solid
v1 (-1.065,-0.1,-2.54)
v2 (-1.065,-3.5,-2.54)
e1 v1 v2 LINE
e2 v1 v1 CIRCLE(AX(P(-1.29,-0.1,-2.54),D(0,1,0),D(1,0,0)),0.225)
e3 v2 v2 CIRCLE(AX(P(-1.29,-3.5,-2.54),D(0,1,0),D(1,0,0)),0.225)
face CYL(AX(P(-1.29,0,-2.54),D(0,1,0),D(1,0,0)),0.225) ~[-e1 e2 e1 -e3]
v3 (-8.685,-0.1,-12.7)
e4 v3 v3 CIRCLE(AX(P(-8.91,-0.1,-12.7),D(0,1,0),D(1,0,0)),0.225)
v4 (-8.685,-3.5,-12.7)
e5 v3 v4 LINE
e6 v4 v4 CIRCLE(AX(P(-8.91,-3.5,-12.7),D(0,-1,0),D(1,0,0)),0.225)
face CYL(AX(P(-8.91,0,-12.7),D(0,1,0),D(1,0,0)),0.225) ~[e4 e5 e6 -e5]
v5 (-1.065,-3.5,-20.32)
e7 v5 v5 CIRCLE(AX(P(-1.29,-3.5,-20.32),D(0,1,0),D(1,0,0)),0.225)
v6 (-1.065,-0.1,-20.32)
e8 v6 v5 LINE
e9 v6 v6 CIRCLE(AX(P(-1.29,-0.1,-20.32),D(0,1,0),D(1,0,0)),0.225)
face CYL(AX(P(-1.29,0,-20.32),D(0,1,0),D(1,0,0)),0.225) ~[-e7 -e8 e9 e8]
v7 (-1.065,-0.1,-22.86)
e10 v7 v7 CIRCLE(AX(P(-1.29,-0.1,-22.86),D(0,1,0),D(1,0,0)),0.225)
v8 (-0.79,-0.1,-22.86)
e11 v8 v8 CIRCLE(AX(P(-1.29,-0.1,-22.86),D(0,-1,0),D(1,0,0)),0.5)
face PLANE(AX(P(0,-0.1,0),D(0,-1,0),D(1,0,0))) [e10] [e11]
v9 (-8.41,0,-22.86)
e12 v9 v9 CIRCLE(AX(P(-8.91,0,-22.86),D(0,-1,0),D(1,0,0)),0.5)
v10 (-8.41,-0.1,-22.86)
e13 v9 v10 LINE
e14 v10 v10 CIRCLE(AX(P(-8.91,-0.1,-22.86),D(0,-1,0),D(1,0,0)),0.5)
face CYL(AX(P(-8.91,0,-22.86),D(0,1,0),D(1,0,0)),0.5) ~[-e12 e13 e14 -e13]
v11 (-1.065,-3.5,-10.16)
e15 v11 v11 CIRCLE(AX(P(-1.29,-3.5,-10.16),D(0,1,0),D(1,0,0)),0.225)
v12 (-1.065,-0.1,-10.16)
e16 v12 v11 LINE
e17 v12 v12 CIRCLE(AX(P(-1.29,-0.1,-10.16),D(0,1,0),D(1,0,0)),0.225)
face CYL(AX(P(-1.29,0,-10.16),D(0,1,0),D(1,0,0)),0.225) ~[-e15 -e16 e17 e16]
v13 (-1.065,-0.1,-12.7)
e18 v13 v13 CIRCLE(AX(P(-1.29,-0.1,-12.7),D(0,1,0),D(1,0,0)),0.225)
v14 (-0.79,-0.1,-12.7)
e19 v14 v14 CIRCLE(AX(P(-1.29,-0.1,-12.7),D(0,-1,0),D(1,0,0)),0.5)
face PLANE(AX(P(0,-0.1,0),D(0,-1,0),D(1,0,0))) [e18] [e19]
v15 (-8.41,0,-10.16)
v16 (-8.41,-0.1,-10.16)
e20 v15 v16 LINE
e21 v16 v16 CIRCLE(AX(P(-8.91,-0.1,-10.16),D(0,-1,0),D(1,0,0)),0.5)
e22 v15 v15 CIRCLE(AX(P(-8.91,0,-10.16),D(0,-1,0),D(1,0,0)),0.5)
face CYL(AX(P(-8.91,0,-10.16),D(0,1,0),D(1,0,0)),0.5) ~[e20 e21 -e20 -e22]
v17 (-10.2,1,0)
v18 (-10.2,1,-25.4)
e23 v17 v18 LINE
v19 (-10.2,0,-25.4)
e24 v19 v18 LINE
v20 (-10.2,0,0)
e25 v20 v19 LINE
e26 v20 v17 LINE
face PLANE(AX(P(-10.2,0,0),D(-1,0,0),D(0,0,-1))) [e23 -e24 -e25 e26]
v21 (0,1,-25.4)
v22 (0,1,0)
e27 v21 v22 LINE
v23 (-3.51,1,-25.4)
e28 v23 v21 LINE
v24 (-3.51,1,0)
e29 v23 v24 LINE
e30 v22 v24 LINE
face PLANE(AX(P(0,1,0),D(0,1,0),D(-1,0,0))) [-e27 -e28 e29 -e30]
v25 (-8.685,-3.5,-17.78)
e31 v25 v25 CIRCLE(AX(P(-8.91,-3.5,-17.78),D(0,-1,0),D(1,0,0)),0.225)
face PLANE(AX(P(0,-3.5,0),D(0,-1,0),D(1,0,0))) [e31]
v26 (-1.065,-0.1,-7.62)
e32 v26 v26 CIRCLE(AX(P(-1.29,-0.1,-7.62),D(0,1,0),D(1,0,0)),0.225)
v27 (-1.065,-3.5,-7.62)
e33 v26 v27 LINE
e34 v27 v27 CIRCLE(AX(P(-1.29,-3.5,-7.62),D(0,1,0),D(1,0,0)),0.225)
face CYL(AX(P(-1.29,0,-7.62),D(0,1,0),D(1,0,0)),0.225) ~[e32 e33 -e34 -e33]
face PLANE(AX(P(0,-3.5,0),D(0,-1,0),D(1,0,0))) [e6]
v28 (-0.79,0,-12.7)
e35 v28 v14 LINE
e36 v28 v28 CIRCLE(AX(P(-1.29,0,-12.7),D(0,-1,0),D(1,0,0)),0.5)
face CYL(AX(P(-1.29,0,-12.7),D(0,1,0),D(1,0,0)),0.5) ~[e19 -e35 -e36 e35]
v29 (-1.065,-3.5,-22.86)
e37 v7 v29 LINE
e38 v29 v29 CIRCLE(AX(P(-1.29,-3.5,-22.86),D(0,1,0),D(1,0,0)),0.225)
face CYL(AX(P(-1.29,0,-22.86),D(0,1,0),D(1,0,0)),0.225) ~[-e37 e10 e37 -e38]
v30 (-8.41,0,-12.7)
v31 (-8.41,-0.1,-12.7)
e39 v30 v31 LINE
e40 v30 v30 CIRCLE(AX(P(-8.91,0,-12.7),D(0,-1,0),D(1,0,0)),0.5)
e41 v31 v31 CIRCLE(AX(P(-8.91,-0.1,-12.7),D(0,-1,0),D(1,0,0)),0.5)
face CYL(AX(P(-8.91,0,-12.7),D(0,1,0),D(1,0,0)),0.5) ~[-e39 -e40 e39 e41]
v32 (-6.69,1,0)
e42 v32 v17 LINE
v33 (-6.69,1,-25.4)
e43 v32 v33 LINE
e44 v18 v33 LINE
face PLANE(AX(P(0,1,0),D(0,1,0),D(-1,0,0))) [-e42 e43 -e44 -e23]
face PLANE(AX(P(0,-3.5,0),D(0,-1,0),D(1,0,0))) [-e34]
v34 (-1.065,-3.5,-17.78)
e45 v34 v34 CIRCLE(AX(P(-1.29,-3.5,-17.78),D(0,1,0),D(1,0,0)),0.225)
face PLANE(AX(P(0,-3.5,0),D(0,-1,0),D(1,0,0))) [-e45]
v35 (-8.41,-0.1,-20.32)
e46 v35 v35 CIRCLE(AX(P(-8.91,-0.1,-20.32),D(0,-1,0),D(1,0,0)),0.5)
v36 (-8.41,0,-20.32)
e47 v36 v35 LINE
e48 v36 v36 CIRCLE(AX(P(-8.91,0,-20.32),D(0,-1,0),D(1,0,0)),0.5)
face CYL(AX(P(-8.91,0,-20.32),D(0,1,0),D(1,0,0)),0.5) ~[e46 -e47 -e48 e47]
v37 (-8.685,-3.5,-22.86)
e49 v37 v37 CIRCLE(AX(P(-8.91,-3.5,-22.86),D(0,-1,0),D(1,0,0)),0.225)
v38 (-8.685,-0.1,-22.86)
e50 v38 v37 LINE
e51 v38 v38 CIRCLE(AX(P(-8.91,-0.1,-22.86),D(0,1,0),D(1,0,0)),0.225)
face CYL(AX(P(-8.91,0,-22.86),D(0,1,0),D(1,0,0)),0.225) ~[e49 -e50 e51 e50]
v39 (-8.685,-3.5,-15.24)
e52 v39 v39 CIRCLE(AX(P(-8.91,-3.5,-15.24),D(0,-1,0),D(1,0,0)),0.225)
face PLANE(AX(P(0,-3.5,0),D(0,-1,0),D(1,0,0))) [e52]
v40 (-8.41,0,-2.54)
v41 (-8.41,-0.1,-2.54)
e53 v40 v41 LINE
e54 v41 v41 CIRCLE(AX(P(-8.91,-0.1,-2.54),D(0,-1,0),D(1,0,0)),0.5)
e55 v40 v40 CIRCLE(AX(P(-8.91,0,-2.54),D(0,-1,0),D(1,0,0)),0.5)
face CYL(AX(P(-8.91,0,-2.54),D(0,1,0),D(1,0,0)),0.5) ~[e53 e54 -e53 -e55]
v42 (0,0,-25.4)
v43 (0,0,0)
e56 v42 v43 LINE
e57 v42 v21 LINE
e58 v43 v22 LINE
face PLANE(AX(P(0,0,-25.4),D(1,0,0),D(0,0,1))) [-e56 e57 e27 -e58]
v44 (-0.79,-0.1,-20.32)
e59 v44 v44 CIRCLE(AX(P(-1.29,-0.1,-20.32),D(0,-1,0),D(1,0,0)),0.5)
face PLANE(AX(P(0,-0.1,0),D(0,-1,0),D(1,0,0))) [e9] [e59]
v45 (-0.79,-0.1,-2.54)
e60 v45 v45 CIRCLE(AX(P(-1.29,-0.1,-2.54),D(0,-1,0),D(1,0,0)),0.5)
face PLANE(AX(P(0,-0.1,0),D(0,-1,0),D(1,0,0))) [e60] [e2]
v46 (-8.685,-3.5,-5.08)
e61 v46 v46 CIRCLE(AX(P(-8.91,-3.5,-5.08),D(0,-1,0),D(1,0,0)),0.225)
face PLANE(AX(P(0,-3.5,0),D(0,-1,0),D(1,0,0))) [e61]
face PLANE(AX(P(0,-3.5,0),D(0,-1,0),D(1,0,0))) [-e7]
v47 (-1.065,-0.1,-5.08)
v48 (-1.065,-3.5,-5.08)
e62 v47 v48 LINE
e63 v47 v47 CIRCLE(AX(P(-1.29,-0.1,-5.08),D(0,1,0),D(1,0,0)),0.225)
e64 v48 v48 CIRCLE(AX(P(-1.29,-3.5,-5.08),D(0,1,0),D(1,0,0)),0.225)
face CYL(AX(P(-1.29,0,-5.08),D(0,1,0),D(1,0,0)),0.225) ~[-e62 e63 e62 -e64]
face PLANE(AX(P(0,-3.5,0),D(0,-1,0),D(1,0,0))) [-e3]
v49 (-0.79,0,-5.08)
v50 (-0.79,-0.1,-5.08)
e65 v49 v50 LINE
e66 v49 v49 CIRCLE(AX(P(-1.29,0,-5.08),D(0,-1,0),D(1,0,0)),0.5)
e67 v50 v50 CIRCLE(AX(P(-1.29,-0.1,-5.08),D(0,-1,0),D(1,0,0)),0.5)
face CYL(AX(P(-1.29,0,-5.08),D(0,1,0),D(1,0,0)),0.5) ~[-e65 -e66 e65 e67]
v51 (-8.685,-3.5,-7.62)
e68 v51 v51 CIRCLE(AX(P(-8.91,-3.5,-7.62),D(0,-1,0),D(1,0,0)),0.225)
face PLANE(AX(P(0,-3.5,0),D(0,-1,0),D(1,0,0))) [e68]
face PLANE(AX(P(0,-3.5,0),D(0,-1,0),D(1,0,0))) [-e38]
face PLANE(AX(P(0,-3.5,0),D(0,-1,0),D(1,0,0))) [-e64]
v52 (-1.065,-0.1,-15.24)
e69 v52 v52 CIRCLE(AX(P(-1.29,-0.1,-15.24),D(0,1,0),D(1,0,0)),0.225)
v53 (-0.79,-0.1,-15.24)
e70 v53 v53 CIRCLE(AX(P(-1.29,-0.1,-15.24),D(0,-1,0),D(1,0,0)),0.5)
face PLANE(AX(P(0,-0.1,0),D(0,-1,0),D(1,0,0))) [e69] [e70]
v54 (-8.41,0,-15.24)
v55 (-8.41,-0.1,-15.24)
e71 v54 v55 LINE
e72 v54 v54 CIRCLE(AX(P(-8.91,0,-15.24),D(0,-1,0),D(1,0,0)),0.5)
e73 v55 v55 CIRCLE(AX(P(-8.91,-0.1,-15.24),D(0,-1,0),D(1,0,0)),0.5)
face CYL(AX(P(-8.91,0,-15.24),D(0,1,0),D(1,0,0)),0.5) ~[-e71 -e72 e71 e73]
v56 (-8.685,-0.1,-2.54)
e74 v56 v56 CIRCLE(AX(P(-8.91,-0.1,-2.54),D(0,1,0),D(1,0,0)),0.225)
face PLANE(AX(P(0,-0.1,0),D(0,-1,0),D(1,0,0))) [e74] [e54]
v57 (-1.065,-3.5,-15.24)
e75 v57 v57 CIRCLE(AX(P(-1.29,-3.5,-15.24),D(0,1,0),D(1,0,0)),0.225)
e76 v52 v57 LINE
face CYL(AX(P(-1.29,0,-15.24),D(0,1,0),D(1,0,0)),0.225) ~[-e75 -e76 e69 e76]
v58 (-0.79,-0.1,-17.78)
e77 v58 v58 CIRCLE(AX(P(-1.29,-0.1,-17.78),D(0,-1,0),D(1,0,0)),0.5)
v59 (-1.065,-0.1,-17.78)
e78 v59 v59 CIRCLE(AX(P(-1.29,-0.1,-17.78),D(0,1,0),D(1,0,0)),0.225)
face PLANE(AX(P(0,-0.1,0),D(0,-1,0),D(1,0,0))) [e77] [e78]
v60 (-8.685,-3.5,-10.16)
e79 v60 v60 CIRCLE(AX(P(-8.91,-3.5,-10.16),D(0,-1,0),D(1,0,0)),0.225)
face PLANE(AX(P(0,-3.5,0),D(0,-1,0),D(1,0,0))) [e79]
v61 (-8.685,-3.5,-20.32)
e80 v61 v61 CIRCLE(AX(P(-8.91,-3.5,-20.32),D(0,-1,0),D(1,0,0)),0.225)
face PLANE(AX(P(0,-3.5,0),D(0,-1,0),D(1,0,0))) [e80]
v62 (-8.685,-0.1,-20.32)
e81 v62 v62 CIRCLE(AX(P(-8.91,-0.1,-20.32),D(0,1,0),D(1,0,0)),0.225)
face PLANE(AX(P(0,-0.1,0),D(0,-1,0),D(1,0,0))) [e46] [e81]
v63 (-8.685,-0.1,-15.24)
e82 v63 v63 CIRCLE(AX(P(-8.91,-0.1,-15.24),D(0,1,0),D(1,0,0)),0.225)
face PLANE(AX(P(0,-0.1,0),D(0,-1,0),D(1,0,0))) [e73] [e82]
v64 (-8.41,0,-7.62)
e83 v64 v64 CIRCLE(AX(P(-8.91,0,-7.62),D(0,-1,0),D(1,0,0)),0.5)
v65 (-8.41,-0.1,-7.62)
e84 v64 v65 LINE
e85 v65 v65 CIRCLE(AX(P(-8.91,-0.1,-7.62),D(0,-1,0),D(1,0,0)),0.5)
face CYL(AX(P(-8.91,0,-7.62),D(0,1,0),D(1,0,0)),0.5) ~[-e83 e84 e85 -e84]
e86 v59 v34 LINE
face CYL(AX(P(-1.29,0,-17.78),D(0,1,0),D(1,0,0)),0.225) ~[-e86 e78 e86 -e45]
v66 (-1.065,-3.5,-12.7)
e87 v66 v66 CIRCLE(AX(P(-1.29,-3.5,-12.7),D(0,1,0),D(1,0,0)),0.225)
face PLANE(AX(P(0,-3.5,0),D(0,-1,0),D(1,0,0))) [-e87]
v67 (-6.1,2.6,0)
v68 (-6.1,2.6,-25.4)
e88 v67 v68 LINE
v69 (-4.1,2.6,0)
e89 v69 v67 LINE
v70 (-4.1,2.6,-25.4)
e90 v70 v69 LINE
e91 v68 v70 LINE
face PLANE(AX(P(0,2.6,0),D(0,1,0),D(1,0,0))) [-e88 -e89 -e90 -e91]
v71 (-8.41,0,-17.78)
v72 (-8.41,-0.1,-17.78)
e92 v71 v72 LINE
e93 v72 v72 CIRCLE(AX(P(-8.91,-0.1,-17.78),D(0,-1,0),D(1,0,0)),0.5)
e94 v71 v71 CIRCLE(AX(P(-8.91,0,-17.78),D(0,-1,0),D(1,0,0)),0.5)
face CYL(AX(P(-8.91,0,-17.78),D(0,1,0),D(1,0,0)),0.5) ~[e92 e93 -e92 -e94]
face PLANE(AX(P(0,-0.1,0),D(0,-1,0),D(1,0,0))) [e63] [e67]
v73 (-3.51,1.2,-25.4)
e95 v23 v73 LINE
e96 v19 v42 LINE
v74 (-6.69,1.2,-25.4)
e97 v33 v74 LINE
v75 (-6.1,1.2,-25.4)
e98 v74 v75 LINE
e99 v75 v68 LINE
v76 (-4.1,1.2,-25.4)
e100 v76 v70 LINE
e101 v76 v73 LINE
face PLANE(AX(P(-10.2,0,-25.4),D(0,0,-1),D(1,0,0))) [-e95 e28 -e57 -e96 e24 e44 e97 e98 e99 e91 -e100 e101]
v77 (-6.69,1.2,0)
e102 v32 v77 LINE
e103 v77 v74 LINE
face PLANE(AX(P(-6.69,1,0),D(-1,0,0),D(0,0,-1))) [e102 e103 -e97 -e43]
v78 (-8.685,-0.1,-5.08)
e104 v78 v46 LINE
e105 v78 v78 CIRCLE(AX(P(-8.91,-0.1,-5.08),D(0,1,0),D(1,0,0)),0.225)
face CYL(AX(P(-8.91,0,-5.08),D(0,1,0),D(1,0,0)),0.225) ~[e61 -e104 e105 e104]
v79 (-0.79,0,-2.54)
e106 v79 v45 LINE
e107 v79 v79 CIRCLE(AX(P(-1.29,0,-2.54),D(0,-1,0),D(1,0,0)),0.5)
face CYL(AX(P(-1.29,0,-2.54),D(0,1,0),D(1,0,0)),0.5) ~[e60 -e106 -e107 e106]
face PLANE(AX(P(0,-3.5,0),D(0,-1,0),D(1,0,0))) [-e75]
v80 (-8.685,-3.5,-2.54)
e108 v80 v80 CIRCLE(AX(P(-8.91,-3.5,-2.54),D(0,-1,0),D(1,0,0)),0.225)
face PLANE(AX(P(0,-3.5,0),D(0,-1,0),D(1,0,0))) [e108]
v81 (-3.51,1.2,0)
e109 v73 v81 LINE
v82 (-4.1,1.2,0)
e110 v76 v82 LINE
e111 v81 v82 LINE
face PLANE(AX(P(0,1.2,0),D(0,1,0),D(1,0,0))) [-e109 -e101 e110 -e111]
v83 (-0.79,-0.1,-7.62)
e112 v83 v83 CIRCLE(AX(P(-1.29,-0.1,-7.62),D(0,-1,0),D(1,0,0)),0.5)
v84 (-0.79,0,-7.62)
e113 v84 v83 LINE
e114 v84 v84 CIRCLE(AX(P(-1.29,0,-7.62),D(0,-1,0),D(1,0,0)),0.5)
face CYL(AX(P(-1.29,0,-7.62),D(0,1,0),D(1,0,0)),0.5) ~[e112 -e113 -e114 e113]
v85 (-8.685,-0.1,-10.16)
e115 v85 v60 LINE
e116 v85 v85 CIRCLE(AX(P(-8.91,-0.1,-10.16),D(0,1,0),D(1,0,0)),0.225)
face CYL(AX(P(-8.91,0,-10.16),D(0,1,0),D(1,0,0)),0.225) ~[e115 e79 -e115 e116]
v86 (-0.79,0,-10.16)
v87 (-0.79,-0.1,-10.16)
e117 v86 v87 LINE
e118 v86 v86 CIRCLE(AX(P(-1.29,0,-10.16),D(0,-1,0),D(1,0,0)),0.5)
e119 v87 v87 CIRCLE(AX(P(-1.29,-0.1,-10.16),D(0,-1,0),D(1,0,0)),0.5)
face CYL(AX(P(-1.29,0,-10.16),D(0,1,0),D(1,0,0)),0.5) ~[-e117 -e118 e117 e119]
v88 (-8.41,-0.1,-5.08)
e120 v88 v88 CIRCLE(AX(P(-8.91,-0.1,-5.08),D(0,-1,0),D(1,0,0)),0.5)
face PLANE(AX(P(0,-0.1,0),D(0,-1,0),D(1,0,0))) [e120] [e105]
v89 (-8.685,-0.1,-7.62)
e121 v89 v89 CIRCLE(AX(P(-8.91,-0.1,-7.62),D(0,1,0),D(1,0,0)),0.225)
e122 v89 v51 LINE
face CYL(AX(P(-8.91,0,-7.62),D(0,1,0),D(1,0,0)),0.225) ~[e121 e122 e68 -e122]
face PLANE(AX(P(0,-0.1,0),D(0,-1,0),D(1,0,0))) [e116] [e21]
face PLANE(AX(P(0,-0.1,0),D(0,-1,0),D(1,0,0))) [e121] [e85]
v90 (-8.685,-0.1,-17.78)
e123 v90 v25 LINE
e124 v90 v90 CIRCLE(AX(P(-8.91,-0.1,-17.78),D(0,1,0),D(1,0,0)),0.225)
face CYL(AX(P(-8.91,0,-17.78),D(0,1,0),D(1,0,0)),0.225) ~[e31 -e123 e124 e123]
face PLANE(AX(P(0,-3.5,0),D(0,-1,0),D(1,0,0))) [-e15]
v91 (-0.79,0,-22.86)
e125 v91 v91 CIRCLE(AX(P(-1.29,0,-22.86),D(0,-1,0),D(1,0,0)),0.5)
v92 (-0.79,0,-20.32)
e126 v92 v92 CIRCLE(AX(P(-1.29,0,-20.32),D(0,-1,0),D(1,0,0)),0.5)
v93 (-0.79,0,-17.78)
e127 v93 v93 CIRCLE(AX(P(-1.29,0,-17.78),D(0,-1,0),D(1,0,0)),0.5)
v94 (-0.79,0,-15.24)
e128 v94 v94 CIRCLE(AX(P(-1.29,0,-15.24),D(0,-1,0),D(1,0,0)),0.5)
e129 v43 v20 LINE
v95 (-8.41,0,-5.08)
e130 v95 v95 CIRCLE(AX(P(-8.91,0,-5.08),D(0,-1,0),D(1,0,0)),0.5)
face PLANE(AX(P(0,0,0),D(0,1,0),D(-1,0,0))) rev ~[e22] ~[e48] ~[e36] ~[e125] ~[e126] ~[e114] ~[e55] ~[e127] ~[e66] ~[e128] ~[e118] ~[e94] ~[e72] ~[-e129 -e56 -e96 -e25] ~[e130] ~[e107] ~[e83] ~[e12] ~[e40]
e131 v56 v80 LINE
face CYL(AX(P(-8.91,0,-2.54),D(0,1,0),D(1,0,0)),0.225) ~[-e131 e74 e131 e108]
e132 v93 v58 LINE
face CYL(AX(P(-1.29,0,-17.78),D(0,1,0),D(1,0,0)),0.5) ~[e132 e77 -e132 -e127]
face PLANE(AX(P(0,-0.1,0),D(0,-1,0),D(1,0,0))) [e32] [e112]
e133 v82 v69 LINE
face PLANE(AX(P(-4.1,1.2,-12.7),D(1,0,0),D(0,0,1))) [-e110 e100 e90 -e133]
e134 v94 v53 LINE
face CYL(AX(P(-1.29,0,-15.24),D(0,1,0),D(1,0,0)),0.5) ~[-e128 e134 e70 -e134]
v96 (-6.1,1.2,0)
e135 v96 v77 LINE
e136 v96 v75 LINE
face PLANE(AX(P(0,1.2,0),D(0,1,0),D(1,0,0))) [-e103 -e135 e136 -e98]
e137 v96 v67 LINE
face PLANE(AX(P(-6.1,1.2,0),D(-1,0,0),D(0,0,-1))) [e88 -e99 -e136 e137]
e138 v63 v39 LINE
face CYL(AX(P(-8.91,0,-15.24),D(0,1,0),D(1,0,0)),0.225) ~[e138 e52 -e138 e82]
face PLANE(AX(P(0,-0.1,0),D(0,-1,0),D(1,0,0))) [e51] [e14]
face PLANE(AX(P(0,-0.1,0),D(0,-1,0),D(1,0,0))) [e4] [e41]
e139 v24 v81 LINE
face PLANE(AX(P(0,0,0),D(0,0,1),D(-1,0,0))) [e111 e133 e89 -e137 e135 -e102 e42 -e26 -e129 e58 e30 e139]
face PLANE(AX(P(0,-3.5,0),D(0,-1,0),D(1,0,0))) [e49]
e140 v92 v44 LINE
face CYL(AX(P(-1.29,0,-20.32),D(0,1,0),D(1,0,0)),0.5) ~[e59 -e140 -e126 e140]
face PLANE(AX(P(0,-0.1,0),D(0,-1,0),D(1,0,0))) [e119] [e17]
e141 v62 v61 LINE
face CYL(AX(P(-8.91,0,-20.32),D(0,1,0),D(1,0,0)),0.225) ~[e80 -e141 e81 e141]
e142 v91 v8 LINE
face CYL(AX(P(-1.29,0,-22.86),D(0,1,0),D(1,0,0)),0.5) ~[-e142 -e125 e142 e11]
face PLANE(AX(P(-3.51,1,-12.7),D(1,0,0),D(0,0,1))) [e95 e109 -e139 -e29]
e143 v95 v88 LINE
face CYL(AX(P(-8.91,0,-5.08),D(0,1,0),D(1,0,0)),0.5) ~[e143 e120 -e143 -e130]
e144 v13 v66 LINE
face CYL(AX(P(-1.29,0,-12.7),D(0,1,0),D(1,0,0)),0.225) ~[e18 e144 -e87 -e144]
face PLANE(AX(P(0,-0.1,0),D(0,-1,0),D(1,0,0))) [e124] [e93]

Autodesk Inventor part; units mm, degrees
ref_plane "YZ Plane" through (0, 0, 0) normal (1, 0, 0) x (0, 1, 0)
ref_plane "XZ Plane" through (0, 0, 0) normal (0, 1, 0) x (-1, 0, 0)
ref_plane "XY Plane" through (0, 0, 0) normal (0, 0, 1) x (1, 0, 0)
sketch "Sketch1" plane through (0, 0, 0) normal (0, 1, 0) x (-1, 0, 0)
  line L0 (0, 0) -> (10.2, 0)
  line L1 (10.2, 0) -> (10.2, -25.4)
  line L2 (10.2, -25.4) -> (0, -25.4)
  line L3 (0, -25.4) -> (0, 0)
  dimension "d0" = 10.2
  dimension "d1" = 25.4
extrude "Extrusion1" add sketch "Sketch1" along normal blind 1
sketch "Sketch2" plane through (0, 0, 0) normal (0, -1, 0) x (1, 0, 0)
  line L0 (-10.2, -25.4) -> (-10.2, 0) projected
  line L1 (-10.2, 0) -> (-5.1, 0)
  line L2 (-10.2, 0) -> (0, 0) projected
  line L3 (-5.1, 0) -> (-5.1, -25.4)
  line L4 (0, -25.4) -> (-10.2, -25.4) projected
  line L5 (-5.1, -22.7265) -> (-1.29, -22.7265)
  line L6 (-1.29, -22.7265) -> (-1.29, 0)
  line L7 (-1.29, 0) -> (-1.29, -2.54)
  circle A0 centre (-1.29, -2.54) radius 0.5
  line L8 (-1.29, -2.54) -> (-1.29, -5.08)
  line L9 (-1.29, -5.08) -> (-1.29, -7.62)
  line L10 (-1.29, -7.62) -> (-1.29, -10.16)
  line L11 (-1.29, -10.16) -> (-1.29, -12.7)
  line L12 (-1.29, -12.7) -> (-1.29, -15.24)
  line L13 (-1.29, -15.24) -> (-1.29, -17.78)
  line L14 (-1.29, -17.78) -> (-1.29, -20.32)
  line L15 (-1.29, -20.32) -> (-1.29, -22.86)
  circle A1 centre (-1.29, -5.08) radius 0.5
  circle A2 centre (-1.29, -7.62) radius 0.5
  circle A3 centre (-1.29, -10.16) radius 0.5
  circle A4 centre (-1.29, -12.7) radius 0.5
  circle A5 centre (-1.29, -15.24) radius 0.5
  circle A6 centre (-1.29, -17.78) radius 0.5
  circle A7 centre (-1.29, -20.32) radius 0.5
  circle A8 centre (-1.29, -22.86) radius 0.5
  circle A9 centre (-8.91, -2.54) radius 0.5
  circle A10 centre (-8.91, -5.08) radius 0.5
  circle A11 centre (-8.91, -7.62) radius 0.5
  circle A12 centre (-8.91, -10.16) radius 0.5
  circle A13 centre (-8.91, -12.7) radius 0.5
  circle A14 centre (-8.91, -15.24) radius 0.5
  circle A15 centre (-8.91, -17.78) radius 0.5
  circle A16 centre (-8.91, -20.32) radius 0.5
  circle A17 centre (-8.91, -22.86) radius 0.5
  circle A18 centre (-1.29, -22.86) radius 0.225
  circle A19 centre (-1.29, -20.32) radius 0.225
  circle A20 centre (-1.29, -17.78) radius 0.225
  circle A21 centre (-1.29, -15.24) radius 0.225
  circle A22 centre (-1.29, -12.7) radius 0.225
  circle A23 centre (-1.29, -10.16) radius 0.225
  circle A24 centre (-1.29, -7.62) radius 0.225
  circle A25 centre (-1.29, -5.08) radius 0.225
  circle A26 centre (-1.29, -2.54) radius 0.225
  circle A27 centre (-8.91, -22.86) radius 0.225
  circle A28 centre (-8.91, -20.32) radius 0.225
  circle A29 centre (-8.91, -17.78) radius 0.225
  circle A30 centre (-8.91, -15.24) radius 0.225
  circle A31 centre (-8.91, -12.7) radius 0.225
  circle A32 centre (-8.91, -10.16) radius 0.225
  circle A33 centre (-8.91, -7.62) radius 0.225
  circle A34 centre (-8.91, -5.08) radius 0.225
  circle A35 centre (-8.91, -2.54) radius 0.225
  dimension "d4" = 5.1
  dimension "d5" = 90
  dimension "d6" = 3.81
  dimension "d7" = 2.54
  dimension "d8" = 1
  dimension "d9" = 2.54
  dimension "d10" = 2.54
  dimension "d11" = 2.54
  dimension "d12" = 2.54
  dimension "d13" = 2.54
  dimension "d14" = 2.54
  dimension "d15" = 2.54
  dimension "d16" = 2.54
  dimension "d17" = 1
  dimension "d18" = 1
  dimension "d19" = 1
  dimension "d20" = 1
  dimension "d21" = 1
  dimension "d22" = 1
  dimension "d23" = 1
  dimension "d24" = 1
  dimension "d27" = 0.45
  dimension "d28" = 0.45
  dimension "d29" = 0.45
  dimension "d30" = 0.45
  dimension "d31" = 0.45
  dimension "d32" = 0.45
  dimension "d33" = 0.45
  dimension "d34" = 0.45
  dimension "d35" = 0.45
extrude "Extrusion3" add sketch "Sketch2" along normal blind 3.5 contours A18 L6 L5 | L5 L6 A18 | A26 L6 | L6 A26 | A19 L6 | L6 A19 | A25 L6 | L6 A25 | A20 L6 | L6 A20 | A24 L6 | L6 A24 | A21 L6 | L6 A21 | A23 L6 | L6 A23 | A22 L6 | L6 A22 | A27 | A28 | A29 | A30 | A31 | A32 | A33 | A34 | A35
sketch "Sketch3" plane through (0, 0, 0) normal (0, -1, 0) x (1, 0, 0)
  circle A0 centre (-8.91, -22.86) radius 0.225 projected
  circle A1 centre (-8.91, -22.86) radius 0.5
  circle A2 centre (-8.91, -20.32) radius 0.225 projected
  circle A3 centre (-8.91, -20.32) radius 0.5
  circle A4 centre (-8.91, -17.78) radius 0.225 projected
  circle A5 centre (-8.91, -17.78) radius 0.5
  circle A6 centre (-8.91, -15.24) radius 0.225 projected
  circle A7 centre (-8.91, -15.24) radius 0.5
  circle A8 centre (-8.91, -12.7) radius 0.225 projected
  circle A9 centre (-8.91, -12.7) radius 0.5
  circle A10 centre (-8.91, -10.16) radius 0.225 projected
  circle A11 centre (-8.91, -10.16) radius 0.5
  circle A12 centre (-8.91, -7.62) radius 0.225 projected
  circle A13 centre (-8.91, -7.62) radius 0.5
  circle A14 centre (-8.91, -5.08) radius 0.225 projected
  circle A15 centre (-8.91, -5.08) radius 0.5
  circle A16 centre (-8.91, -2.54) radius 0.225 projected
  circle A17 centre (-8.91, -2.54) radius 0.5
  circle A18 centre (-1.29, -22.86) radius 0.225 projected
  circle A19 centre (-1.29, -22.86) radius 0.5
  circle A20 centre (-1.29, -20.32) radius 0.225 projected
  circle A21 centre (-1.29, -20.32) radius 0.5
  circle A22 centre (-1.29, -17.78) radius 0.225 projected
  circle A23 centre (-1.29, -17.78) radius 0.5
  circle A24 centre (-1.29, -15.24) radius 0.225 projected
  circle A25 centre (-1.29, -15.24) radius 0.5
  circle A26 centre (-1.29, -12.7) radius 0.225 projected
  circle A27 centre (-1.29, -12.7) radius 0.5
  circle A28 centre (-1.29, -10.16) radius 0.225 projected
  circle A29 centre (-1.29, -10.16) radius 0.5
  circle A30 centre (-1.29, -7.62) radius 0.225 projected
  circle A31 centre (-1.29, -7.62) radius 0.5
  circle A32 centre (-1.29, -5.08) radius 0.225 projected
  circle A33 centre (-1.29, -5.08) radius 0.5
  circle A34 centre (-1.29, -2.54) radius 0.225 projected
  circle A35 centre (-1.29, -2.54) radius 0.5
  point P0 (0, 0)
  dimension "d38" = 1
  dimension "d39" = 1
  dimension "d40" = 1
  dimension "d41" = 1
  dimension "d42" = 1
  dimension "d43" = 1
  dimension "d44" = 1
  dimension "d45" = 1
  dimension "d46" = 1
  dimension "d47" = 1
  dimension "d48" = 1
  dimension "d49" = 1
  dimension "d50" = 1
  dimension "d51" = 1
  dimension "d52" = 1
  dimension "d53" = 1
  dimension "d54" = 1
  dimension "d55" = 1
extrude "Extrusion4" add sketch "Sketch3" along normal blind 0.1 contours A0 | A1 | A2 | A3 | A4 | A5 | A6 | A7 | A8 | A9 | A10 | A11 | A12 | A13 | A14 | A15 | A16 | A17 | A18 | A19 | A20 | A21 | A22 | A23 | A24 | A25 | A26 | A27 | A28 | A29 | A30 | A31 | A32 | A33 | A34 | A35
sketch "Sketch5" plane through (0, 1, 0) normal (0, 1, 0) x (1, 0, 0)
  line L0 (0, 0) -> (0, 25.4) projected
  line L1 (0, 0) -> (0, 12.7)
  line L2 (0, 12.7) -> (-5.1, 12.7)
  line L3 (-6.69, 0) -> (-6.69, 25.4)
  line L4 (-6.69, 25.4) -> (-3.51, 25.4)
  line L5 (-3.51, 25.4) -> (-3.51, 0)
  line L6 (-3.51, 0) -> (-6.69, 0)
  line L7 (-6.69, 0) -> (-3.51, 25.4) construction
  line L8 (-6.69, 25.4) -> (-3.51, 0) construction
  dimension "d61" = 12.7
  dimension "d62" = 5.1
  dimension "d63" = 3.18
extrude "Extrusion5" add sketch "Sketch5" along normal blind 0.2
sketch "Sketch6" plane through (0, 1.2, 0) normal (0, 1, 0) x (1, 0, 0)
  line L0 (0, 0) -> (0, 12.7)
  line L1 (0, 0) -> (0, 25.4) projected
  line L2 (0, 12.7) -> (-5.1, 12.7)
  line L3 (-6.1, 0) -> (-6.1, 25.4)
  line L4 (-6.1, 25.4) -> (-4.1, 25.4)
  line L5 (-4.1, 25.4) -> (-4.1, 0)
  line L6 (-4.1, 0) -> (-6.1, 0)
  line L7 (-6.1, 0) -> (-4.1, 25.4) construction
  line L8 (-6.1, 25.4) -> (-4.1, 0) construction
  dimension "d66" = 12.7
  dimension "d67" = 5.1
  dimension "d68" = 2
extrude "Extrusion6" add sketch "Sketch6" along normal blind 1.4
properties part number "Detector"
